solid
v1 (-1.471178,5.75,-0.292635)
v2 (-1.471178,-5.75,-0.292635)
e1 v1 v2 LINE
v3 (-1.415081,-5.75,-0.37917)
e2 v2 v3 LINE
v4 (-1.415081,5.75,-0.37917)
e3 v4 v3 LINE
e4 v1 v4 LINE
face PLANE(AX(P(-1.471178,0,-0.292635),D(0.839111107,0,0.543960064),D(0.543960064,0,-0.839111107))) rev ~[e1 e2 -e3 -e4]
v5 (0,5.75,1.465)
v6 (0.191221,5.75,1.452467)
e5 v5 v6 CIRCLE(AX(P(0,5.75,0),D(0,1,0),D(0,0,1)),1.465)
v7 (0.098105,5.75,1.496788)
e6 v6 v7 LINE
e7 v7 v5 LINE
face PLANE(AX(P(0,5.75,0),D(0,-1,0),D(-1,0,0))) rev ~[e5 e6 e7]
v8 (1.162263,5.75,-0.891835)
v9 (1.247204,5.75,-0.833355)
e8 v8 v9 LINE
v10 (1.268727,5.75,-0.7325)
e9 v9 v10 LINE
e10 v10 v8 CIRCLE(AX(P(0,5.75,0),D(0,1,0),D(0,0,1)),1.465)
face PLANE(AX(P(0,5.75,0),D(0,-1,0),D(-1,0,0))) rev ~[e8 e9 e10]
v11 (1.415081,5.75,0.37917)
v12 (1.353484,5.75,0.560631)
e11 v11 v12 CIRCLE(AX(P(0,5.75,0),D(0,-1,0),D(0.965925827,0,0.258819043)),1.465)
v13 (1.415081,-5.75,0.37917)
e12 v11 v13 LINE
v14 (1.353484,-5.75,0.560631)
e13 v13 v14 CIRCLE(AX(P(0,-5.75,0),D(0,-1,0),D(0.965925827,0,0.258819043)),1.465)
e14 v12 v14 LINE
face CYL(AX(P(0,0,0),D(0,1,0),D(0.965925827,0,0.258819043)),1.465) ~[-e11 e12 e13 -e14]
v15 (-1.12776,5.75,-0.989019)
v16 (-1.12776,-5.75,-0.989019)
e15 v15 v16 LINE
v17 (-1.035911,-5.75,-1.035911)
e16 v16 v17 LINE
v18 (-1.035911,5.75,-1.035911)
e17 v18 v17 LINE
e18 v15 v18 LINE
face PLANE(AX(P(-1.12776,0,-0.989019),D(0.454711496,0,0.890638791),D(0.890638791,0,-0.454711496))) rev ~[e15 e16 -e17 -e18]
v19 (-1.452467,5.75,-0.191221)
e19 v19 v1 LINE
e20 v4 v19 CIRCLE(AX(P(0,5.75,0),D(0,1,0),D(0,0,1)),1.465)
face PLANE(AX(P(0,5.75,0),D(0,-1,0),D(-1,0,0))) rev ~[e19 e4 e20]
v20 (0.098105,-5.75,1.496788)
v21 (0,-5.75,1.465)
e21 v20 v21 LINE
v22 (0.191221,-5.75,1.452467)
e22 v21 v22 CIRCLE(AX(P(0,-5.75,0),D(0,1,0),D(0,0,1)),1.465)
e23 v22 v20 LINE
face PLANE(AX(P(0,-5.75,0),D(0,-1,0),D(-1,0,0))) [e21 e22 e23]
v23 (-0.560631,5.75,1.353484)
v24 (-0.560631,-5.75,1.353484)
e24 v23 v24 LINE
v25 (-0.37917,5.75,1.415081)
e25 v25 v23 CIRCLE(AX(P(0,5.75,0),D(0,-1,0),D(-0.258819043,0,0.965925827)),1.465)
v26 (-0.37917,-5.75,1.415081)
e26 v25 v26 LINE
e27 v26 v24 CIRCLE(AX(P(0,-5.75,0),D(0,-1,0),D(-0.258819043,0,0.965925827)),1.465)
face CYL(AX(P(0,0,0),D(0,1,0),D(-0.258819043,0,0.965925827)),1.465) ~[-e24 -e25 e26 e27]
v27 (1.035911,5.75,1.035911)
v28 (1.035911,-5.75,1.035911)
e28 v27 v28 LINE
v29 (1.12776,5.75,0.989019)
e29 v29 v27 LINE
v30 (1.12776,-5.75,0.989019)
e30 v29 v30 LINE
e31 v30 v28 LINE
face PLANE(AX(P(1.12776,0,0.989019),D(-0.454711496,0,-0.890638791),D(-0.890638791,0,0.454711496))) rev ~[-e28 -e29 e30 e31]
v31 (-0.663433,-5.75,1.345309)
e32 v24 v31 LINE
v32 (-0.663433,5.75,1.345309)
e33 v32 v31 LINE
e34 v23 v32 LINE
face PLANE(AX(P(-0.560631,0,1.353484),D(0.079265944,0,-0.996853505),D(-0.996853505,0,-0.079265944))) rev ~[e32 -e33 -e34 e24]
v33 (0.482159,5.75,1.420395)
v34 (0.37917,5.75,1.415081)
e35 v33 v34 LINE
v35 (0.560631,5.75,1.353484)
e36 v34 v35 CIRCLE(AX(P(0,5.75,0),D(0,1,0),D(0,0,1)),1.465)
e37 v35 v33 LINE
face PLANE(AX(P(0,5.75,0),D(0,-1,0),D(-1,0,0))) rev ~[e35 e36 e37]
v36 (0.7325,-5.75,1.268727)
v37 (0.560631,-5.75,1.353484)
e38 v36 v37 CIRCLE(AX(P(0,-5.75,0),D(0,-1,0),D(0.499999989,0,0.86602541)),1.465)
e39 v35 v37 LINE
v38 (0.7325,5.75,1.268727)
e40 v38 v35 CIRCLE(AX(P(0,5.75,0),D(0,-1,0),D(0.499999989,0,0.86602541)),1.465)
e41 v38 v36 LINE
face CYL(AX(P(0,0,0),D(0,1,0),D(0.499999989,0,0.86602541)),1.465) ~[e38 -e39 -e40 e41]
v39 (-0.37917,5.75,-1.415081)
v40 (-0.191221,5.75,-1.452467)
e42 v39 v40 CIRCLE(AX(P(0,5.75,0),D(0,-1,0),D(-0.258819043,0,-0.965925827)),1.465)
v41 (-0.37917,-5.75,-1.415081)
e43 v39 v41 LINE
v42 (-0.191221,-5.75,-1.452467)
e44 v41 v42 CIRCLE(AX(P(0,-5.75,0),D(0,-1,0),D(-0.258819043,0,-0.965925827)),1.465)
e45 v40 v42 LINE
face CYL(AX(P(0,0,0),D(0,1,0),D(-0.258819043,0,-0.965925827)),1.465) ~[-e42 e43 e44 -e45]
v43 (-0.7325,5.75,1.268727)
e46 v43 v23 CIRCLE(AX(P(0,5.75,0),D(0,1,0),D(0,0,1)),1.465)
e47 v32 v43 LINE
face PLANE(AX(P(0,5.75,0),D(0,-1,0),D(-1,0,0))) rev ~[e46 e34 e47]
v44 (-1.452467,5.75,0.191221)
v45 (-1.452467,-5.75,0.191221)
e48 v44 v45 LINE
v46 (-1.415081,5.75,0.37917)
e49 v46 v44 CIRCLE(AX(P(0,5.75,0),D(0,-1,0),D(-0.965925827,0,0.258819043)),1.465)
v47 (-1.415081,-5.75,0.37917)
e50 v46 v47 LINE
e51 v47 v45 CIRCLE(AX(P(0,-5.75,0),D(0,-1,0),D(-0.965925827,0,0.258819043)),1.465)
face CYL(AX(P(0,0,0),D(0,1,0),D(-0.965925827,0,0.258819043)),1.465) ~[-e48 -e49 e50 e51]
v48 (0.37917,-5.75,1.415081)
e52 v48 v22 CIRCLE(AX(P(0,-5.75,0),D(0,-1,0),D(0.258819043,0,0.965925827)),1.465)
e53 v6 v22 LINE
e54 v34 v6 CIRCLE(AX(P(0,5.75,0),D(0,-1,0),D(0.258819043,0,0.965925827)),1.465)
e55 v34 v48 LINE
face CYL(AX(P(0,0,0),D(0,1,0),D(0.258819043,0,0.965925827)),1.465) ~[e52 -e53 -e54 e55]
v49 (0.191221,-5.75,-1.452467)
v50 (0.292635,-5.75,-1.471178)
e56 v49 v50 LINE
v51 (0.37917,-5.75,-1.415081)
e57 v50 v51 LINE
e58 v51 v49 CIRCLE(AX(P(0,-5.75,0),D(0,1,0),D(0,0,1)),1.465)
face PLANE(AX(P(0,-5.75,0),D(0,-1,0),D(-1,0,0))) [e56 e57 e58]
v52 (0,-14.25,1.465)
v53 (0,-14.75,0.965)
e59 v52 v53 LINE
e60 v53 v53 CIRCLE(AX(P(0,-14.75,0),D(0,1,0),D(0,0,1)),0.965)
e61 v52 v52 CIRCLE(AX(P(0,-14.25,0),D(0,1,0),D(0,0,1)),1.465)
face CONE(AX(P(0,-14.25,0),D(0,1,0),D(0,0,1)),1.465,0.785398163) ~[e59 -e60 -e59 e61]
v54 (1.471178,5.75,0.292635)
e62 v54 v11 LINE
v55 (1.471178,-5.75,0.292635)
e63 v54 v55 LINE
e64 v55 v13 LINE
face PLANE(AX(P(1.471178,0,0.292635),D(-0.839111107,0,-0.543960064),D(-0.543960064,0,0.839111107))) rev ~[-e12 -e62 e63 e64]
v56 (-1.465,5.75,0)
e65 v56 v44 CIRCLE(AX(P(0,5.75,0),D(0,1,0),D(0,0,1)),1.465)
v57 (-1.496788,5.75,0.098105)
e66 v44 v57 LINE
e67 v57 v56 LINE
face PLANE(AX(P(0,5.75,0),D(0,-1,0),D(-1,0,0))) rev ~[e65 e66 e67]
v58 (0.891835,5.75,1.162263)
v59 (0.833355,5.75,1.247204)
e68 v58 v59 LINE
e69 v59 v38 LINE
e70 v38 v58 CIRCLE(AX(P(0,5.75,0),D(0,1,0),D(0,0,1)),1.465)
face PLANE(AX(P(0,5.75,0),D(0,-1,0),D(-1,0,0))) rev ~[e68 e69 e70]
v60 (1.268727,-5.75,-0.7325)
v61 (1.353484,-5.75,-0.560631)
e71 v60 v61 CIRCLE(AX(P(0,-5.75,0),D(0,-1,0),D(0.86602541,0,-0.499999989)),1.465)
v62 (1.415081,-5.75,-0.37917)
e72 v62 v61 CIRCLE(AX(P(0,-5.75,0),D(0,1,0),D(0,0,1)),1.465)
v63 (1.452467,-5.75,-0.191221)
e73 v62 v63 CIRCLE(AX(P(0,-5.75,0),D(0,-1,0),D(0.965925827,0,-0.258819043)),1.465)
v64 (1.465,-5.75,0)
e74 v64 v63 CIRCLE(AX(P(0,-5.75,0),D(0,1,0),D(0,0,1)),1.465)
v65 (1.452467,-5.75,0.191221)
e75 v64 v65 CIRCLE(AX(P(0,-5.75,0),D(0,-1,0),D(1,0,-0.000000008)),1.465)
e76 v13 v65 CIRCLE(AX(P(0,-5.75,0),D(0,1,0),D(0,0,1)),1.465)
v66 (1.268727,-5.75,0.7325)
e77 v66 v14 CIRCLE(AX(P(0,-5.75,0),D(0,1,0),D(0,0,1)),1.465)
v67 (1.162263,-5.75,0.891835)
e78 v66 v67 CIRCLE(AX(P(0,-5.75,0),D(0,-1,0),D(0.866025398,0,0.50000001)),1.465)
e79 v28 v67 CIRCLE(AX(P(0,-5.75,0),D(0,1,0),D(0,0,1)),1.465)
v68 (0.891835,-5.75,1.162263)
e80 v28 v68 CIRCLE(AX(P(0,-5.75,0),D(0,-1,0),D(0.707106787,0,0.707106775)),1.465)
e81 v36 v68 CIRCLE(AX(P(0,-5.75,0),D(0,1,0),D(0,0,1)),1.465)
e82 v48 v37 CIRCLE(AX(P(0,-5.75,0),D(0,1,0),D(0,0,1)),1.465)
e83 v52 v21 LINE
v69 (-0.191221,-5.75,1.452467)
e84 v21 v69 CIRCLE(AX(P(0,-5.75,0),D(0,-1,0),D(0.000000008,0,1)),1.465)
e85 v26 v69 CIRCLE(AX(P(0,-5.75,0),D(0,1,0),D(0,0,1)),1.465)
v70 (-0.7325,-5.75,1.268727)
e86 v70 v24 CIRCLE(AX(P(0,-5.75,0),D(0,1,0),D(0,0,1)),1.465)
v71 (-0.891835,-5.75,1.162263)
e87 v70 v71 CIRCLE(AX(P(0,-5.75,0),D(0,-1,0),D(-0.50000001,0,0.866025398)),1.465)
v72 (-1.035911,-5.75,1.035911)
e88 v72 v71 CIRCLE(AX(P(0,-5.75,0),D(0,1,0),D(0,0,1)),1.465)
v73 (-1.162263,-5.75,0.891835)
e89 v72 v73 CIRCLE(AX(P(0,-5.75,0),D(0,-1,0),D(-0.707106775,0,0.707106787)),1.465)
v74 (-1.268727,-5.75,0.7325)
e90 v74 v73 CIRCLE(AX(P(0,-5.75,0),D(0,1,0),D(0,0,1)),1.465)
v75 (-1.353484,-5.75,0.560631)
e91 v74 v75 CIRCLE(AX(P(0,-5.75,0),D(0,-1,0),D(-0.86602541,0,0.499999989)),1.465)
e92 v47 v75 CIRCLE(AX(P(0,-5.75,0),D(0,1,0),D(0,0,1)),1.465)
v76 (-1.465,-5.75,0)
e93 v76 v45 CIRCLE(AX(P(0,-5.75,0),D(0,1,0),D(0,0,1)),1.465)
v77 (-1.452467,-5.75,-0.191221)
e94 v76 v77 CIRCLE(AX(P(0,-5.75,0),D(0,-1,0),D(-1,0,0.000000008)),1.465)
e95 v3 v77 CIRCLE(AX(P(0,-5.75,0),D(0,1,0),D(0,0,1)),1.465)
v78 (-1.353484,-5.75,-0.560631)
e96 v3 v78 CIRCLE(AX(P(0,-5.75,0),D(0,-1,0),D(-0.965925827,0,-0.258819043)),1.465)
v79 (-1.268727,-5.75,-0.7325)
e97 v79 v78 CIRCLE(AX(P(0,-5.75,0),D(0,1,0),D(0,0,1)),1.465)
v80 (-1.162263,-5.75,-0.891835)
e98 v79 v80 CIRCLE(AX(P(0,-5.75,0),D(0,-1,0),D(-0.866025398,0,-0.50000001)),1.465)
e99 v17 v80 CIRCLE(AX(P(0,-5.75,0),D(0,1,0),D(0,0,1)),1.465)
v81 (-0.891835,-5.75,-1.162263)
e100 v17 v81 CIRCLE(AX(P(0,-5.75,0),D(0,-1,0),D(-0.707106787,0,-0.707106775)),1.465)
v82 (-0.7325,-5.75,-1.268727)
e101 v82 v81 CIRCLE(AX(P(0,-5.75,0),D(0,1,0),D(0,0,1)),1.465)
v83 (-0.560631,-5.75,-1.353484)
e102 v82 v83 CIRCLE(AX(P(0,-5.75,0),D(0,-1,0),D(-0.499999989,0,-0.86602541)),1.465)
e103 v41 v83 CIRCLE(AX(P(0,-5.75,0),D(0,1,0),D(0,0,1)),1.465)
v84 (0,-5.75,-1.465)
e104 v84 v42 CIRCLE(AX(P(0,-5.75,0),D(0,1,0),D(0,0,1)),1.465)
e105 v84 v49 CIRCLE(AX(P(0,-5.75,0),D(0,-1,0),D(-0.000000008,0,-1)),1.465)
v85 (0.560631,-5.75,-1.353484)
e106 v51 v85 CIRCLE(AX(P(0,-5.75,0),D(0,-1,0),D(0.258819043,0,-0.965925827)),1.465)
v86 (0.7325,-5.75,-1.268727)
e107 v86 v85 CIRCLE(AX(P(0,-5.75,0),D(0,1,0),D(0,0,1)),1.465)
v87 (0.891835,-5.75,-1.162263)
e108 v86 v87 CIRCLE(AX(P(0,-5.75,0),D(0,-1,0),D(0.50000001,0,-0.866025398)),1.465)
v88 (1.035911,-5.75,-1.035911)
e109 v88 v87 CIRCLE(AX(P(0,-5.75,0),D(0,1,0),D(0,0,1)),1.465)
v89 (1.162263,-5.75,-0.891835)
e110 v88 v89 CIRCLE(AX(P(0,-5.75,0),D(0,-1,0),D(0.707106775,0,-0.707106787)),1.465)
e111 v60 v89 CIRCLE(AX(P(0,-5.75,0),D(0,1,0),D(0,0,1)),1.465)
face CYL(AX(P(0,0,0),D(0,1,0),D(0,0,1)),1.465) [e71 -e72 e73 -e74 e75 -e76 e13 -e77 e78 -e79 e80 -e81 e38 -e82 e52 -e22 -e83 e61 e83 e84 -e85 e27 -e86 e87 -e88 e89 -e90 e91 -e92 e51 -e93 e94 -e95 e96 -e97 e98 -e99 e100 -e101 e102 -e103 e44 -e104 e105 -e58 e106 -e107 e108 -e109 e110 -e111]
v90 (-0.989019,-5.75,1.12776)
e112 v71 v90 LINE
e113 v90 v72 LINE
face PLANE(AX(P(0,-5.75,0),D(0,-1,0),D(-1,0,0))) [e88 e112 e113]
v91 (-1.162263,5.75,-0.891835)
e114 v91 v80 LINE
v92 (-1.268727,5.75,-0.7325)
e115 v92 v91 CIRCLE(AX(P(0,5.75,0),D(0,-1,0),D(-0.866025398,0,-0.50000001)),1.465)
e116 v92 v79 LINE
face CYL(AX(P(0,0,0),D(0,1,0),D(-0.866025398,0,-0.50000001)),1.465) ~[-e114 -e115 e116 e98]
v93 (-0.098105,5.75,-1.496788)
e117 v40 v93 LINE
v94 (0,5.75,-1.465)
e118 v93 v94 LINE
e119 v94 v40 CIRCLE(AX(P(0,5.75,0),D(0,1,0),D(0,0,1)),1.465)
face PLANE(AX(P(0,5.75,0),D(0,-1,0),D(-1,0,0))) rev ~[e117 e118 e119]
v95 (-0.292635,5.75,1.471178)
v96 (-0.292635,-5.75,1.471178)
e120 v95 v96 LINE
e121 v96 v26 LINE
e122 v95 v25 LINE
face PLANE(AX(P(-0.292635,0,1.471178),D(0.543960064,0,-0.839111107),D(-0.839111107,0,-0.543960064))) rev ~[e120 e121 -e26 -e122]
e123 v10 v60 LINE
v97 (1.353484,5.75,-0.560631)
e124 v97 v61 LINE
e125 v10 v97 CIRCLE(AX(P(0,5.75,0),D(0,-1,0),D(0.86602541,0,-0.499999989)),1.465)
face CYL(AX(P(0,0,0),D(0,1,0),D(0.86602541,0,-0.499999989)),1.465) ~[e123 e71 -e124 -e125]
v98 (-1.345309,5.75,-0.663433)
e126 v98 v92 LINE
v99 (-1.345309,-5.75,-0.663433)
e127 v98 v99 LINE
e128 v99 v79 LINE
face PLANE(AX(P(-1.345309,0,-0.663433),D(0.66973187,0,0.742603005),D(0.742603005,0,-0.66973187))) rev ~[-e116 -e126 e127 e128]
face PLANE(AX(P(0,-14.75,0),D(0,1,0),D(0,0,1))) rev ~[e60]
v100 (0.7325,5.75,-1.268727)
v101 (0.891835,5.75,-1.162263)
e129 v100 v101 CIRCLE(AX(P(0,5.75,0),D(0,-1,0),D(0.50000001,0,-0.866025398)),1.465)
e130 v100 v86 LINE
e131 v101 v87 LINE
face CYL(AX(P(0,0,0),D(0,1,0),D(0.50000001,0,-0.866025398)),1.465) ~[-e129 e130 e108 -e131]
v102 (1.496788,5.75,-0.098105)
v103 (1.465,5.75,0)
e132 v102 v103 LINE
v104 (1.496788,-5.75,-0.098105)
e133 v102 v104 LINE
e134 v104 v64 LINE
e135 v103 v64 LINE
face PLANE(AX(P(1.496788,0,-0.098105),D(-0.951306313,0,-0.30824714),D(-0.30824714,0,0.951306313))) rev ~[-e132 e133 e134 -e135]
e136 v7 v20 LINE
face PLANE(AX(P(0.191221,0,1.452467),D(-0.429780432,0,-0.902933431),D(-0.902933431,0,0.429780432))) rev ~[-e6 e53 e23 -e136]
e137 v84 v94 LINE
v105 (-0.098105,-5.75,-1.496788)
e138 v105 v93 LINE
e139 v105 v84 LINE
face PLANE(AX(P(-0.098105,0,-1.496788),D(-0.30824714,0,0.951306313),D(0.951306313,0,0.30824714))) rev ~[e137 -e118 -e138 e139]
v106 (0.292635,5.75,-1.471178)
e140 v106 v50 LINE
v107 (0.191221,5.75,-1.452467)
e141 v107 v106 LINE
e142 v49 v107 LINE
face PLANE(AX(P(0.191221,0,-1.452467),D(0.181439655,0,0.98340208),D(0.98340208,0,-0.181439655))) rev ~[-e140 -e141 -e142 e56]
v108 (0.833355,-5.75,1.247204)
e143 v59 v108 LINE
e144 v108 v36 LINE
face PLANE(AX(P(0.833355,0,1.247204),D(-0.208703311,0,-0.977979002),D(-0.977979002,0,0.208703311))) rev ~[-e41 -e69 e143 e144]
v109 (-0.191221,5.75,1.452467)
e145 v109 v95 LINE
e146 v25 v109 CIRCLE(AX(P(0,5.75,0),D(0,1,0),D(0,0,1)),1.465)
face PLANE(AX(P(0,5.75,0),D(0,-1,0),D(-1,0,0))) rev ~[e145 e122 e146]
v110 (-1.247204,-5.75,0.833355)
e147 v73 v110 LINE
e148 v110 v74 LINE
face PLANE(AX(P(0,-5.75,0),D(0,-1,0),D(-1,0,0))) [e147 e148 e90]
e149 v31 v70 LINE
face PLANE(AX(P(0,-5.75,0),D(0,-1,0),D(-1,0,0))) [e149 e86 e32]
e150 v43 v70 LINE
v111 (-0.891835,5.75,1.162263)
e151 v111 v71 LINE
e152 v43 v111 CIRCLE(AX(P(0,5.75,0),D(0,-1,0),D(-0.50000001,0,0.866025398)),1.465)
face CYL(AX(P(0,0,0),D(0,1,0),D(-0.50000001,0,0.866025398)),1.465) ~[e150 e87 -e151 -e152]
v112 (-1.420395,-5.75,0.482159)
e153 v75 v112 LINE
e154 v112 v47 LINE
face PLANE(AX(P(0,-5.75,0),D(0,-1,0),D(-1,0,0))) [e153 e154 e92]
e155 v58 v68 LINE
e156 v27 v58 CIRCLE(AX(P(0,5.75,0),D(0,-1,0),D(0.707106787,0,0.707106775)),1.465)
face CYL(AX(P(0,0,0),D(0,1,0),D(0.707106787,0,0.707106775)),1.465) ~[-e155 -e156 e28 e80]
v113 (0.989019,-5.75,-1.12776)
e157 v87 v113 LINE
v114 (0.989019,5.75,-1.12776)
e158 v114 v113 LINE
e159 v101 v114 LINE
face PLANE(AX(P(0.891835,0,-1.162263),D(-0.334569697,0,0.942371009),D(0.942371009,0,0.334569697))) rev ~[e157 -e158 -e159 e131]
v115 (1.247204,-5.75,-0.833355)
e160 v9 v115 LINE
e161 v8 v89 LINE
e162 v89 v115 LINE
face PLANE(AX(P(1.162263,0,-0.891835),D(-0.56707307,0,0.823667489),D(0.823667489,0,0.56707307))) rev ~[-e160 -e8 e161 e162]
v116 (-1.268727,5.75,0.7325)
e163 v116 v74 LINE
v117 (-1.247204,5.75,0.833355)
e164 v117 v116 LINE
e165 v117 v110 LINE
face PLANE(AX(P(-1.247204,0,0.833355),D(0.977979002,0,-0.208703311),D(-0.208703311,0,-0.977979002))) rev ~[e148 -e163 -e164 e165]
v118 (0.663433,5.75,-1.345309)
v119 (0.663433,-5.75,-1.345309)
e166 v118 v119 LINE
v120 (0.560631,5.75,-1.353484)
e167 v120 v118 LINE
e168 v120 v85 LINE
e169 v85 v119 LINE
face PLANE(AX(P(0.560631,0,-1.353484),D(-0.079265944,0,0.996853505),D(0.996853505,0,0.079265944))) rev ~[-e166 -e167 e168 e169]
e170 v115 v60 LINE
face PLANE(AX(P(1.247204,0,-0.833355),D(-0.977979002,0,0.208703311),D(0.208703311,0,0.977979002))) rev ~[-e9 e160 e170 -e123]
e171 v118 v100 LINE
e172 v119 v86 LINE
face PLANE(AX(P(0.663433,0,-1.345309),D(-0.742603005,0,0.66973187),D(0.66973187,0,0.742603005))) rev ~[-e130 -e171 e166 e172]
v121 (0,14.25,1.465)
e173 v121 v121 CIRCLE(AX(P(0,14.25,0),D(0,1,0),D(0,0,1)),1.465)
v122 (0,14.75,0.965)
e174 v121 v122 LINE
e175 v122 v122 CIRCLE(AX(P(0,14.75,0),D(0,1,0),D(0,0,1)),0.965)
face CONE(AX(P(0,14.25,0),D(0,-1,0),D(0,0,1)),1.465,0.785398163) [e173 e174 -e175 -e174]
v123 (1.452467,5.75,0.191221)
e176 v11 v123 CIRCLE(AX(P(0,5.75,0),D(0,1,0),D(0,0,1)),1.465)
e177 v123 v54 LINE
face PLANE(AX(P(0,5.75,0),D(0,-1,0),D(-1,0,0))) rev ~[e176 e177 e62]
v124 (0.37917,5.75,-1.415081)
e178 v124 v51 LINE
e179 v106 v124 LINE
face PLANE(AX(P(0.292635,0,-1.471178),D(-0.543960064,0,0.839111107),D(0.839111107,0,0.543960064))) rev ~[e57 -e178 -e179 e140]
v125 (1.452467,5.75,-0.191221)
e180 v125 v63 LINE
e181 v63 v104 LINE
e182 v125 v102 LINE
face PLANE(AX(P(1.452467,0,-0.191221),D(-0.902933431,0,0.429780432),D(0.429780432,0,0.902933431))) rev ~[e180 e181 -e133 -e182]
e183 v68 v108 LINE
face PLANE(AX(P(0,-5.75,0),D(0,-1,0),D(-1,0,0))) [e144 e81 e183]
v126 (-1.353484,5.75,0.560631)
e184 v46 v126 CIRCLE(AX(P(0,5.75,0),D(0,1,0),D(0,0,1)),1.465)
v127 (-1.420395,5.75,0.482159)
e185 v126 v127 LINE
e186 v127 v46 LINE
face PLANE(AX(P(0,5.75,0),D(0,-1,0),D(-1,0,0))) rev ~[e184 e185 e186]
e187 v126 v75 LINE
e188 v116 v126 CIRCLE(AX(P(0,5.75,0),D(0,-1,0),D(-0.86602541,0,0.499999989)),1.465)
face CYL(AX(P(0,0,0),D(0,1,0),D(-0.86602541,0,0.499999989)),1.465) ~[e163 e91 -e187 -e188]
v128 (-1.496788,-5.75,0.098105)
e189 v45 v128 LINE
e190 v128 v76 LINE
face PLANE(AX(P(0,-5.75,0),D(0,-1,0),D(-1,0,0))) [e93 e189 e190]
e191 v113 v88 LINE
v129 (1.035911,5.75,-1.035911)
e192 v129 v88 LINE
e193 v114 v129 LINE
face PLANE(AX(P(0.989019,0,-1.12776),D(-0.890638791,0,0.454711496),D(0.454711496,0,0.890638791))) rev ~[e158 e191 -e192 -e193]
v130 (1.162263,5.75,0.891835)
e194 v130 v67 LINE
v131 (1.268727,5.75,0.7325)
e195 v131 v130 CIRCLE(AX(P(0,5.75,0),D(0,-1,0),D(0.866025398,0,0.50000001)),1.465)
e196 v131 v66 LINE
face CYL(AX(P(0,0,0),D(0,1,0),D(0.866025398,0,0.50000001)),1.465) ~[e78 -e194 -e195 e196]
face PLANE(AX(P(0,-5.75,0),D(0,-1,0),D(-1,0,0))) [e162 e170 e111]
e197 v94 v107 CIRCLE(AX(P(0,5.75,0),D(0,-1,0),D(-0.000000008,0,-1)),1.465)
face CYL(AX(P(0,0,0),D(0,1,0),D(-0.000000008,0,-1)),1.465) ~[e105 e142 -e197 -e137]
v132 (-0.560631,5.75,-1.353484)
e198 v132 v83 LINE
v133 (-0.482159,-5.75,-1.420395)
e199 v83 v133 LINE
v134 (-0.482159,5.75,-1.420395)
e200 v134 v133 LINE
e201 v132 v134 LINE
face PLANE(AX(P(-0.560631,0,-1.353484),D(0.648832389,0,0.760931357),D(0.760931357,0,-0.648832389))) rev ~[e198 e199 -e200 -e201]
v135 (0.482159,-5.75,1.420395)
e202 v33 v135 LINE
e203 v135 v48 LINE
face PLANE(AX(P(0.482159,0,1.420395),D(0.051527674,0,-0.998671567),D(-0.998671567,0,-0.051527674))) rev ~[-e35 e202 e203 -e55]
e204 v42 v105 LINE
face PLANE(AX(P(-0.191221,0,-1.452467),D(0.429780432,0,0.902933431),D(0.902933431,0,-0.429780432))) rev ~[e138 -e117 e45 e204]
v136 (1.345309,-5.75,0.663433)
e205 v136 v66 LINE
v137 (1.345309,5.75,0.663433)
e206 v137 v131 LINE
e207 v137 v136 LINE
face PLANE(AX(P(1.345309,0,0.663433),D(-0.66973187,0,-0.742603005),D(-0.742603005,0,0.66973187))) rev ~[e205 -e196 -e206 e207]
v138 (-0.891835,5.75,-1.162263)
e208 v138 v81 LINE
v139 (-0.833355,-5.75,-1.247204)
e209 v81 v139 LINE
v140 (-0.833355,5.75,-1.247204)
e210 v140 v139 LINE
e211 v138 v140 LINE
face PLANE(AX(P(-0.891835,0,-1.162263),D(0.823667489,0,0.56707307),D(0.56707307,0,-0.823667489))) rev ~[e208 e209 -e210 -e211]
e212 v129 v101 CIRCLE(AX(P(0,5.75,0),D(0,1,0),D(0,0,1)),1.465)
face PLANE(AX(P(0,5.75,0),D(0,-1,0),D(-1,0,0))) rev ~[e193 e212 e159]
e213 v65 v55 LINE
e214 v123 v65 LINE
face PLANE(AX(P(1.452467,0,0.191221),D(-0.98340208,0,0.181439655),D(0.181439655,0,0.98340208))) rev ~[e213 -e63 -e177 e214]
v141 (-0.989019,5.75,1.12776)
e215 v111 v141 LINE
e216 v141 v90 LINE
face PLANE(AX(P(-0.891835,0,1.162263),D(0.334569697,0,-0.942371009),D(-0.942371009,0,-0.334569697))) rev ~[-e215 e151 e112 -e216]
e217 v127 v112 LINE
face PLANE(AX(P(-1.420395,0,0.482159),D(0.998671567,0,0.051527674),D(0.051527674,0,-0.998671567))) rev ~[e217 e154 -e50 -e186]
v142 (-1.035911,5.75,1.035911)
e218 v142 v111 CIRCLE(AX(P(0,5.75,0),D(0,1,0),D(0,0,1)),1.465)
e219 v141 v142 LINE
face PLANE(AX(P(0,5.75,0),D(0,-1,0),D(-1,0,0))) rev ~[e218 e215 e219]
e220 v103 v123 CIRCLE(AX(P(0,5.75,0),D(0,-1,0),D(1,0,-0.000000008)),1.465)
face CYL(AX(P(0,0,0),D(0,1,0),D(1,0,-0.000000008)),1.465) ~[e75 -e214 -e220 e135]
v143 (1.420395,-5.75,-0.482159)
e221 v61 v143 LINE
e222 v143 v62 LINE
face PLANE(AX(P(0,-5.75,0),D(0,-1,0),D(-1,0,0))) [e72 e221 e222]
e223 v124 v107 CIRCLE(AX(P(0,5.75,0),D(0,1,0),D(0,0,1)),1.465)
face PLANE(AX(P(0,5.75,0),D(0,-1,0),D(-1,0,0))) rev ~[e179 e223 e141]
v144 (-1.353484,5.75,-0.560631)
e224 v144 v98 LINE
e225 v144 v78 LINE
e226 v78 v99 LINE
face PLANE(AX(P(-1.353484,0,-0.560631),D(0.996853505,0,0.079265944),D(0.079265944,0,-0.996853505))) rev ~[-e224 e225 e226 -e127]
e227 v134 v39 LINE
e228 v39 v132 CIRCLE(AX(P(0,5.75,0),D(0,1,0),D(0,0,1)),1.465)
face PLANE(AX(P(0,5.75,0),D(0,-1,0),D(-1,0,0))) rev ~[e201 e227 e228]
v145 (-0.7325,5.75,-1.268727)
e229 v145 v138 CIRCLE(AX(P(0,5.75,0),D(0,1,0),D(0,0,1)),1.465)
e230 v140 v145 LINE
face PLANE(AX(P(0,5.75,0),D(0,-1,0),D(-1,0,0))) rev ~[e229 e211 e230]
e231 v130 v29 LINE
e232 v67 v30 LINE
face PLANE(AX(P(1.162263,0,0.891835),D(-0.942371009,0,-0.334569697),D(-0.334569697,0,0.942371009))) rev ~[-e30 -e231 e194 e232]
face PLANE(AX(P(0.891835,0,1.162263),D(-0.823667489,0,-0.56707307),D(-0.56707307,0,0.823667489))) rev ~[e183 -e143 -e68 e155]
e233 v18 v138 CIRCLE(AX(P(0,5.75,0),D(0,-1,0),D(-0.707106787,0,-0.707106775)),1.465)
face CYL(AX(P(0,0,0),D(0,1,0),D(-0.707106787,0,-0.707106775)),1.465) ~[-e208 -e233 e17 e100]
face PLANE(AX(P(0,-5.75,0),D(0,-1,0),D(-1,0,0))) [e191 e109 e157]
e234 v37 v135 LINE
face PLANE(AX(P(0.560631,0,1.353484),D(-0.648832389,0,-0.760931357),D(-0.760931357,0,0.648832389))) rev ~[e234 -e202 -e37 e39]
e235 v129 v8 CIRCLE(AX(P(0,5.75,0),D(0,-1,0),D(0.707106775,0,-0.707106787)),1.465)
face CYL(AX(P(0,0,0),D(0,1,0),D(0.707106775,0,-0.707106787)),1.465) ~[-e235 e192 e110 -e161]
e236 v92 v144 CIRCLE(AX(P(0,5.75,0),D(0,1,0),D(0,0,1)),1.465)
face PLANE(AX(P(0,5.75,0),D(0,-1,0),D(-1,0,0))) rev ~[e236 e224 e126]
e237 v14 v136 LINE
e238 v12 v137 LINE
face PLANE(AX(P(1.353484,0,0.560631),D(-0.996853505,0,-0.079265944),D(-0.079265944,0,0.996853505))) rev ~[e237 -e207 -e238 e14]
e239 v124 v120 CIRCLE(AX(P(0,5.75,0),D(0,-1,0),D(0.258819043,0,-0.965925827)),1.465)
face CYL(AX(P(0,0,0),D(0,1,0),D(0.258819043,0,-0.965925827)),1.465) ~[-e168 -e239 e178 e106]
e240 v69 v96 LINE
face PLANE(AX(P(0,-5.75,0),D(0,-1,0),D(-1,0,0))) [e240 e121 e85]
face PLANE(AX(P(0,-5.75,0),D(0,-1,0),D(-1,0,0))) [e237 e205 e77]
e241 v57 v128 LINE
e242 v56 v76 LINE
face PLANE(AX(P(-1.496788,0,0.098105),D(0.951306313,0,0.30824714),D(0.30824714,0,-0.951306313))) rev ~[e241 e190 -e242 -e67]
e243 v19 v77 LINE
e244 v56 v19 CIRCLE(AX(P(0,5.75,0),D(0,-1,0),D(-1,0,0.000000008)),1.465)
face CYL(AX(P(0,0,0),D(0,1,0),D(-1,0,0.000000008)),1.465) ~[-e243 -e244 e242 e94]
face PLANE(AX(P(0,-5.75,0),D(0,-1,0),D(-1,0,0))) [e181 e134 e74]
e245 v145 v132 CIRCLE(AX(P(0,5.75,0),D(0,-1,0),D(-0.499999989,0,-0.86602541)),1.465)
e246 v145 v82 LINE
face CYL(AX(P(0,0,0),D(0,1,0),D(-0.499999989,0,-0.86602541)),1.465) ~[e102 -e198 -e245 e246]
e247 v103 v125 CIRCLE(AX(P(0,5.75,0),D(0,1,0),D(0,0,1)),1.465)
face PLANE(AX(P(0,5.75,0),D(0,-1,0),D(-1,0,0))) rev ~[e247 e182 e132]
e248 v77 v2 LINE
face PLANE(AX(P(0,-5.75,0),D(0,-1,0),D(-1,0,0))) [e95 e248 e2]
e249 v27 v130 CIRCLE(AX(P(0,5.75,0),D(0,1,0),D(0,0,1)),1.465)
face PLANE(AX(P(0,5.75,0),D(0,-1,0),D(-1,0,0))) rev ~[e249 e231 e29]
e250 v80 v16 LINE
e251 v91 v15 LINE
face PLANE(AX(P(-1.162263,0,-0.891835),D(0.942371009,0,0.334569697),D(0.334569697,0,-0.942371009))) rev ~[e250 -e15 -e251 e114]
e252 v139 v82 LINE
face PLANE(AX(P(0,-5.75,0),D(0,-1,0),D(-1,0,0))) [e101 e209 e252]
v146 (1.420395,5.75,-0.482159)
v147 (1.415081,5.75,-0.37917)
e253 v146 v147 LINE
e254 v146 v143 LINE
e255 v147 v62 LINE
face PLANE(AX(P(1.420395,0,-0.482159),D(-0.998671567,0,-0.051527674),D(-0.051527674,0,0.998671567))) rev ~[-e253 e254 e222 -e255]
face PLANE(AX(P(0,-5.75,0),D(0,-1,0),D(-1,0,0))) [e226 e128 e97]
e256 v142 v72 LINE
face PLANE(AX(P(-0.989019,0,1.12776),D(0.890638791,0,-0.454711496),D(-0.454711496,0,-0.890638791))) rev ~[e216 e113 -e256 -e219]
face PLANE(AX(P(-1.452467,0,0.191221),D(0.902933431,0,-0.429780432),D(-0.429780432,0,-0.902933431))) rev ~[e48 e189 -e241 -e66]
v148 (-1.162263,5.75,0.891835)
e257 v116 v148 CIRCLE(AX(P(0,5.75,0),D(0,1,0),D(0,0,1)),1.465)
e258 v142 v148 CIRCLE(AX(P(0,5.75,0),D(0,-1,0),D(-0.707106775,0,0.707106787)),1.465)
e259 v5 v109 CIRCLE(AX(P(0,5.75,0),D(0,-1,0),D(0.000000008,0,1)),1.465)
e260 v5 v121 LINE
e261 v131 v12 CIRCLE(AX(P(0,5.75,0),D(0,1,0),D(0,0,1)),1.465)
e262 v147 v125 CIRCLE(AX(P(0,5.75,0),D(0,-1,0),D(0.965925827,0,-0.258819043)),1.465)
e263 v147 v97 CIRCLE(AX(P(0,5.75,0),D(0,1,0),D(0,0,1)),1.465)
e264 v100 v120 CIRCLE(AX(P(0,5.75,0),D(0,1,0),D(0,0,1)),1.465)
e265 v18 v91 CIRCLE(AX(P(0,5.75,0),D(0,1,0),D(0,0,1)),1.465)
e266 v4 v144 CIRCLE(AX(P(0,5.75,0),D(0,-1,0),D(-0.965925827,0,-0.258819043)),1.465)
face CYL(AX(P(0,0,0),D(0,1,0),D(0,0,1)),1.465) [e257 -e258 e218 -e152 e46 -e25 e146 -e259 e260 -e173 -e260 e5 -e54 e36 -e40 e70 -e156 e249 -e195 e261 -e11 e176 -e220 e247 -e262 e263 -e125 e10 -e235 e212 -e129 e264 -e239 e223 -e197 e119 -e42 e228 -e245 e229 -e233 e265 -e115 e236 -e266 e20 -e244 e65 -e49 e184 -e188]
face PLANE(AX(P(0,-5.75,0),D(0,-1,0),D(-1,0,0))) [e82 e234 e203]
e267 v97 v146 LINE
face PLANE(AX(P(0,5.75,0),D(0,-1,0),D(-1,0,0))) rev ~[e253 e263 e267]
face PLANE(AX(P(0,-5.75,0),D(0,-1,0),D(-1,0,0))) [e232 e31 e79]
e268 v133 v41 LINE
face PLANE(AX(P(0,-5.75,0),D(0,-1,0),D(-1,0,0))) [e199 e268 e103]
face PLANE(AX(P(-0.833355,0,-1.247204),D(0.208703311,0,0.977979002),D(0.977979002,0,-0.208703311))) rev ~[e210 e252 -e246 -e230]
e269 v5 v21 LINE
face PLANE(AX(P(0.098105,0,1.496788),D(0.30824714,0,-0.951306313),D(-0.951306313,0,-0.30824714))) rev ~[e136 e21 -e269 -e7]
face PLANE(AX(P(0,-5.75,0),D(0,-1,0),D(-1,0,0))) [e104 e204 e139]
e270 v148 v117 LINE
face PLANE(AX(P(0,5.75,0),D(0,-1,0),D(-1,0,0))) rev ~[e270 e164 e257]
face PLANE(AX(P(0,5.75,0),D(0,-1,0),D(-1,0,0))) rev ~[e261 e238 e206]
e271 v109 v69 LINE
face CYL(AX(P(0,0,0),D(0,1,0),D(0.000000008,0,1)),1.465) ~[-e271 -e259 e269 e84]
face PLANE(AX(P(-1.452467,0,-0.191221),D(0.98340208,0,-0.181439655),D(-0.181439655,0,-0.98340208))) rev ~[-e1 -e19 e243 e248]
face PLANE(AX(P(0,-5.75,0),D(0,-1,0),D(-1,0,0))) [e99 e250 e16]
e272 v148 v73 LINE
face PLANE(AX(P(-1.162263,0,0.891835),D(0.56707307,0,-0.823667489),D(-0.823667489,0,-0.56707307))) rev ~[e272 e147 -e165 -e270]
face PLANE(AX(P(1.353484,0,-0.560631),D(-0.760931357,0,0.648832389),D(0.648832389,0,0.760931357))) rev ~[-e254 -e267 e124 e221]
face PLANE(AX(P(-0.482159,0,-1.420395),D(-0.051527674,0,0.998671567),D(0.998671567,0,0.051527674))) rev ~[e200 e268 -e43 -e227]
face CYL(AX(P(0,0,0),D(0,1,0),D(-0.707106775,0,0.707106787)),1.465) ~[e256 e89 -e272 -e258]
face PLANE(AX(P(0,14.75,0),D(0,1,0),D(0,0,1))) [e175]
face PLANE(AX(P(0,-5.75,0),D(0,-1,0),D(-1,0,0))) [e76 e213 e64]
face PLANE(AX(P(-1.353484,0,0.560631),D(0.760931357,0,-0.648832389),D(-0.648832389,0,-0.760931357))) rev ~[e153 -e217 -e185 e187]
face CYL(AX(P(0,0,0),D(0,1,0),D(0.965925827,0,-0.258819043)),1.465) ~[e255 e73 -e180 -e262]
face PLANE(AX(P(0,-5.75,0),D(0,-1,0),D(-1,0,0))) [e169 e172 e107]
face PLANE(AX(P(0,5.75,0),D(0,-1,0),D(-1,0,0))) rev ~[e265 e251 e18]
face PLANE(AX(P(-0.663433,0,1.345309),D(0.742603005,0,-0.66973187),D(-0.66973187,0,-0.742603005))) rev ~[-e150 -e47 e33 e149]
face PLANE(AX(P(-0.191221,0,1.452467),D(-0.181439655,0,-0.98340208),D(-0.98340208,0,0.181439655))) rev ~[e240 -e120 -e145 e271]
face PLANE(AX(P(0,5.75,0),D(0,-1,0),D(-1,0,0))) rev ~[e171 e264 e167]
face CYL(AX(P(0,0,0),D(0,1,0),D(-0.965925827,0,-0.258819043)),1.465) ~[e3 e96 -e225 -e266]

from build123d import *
from build123d.topology import SkipClean

# Parameters (mm, degrees)
SKETCH1_R      = 1.465
EXTRUDE1_DEPTH = 14.75
CHAMFER1_SIZE  = 0.5
EXTRUDE2_DEPTH = 5.75


with BuildPart() as part:
    # Sketch1 → Extrude1 (new, symmetric)
    with BuildSketch(Plane(origin=(0, 0, 0), x_dir=(1, 0, 0), z_dir=(0, 1, 0))):
        with Locations(Location((0, 0, 0), (0, 0, 270))):
            Circle(SKETCH1_R)
    extrude(amount=EXTRUDE1_DEPTH, both=True)

    # Chamfer1
    chamfer1_edges = [part.edges().sort_by_distance(p)[0] for p in [
        (0, -14.75, -1.465),
        (0, 14.75, -1.465),
    ]]
    chamfer(chamfer1_edges, length=CHAMFER1_SIZE)

    # Sketch2 → Extrude2 (add, symmetric)
    with SkipClean():  # the faces are left unmerged after this step: merging them gives an invalid solid
        with BuildSketch(Plane(origin=(0, 0, 0), x_dir=(1, 0, 0), z_dir=(0, 1, 0))):
            with BuildLine():
                Line((0.191220872, 1.452466722), (0.292635483, 1.471177921))
                Line((0.292635483, 1.471177921), (0.379169901, 1.415081336))
                ThreePointArc((0.379169901, 1.415081336), (0.470908817, 1.38725264), (0.560631228, 1.353483515))
                Line((0.560631228, 1.353483515), (0.663433035, 1.345309112))
                Line((0.663433035, 1.345309112), (0.7325, 1.268727217))
                ThreePointArc((0.7325, 1.268727217), (0.813910391, 1.218102982), (0.891835493, 1.162262644))
                Line((0.891835493, 1.162262644), (0.989018723, 1.127759711))
                Line((0.989018723, 1.127759711), (1.035911434, 1.035911434))
                ThreePointArc((1.035911434, 1.035911434), (1.101445318, 0.965941619), (1.162262644, 0.891835493))
                Line((1.162262644, 0.891835493), (1.247204418, 0.83335535))
                Line((1.247204418, 0.83335535), (1.268727217, 0.7325))
                ThreePointArc((1.268727217, 0.7325), (1.313918566, 0.647952931), (1.353483515, 0.560631228))
                Line((1.353483515, 0.560631228), (1.420395194, 0.482159198))
                Line((1.420395194, 0.482159198), (1.415081336, 0.379169901))
                ThreePointArc((1.415081336, 0.379169901), (1.436850436, 0.285807322), (1.452466722, 0.191220872))
                Line((1.452466722, 0.191220872), (1.496788385, 0.098104694))
                Line((1.496788385, 0.098104694), (1.465, 0))
                ThreePointArc((1.465, 0), (1.461863323, -0.095815584), (1.452466722, -0.191220872))
                Line((1.452466722, -0.191220872), (1.471177921, -0.292635483))
                Line((1.471177921, -0.292635483), (1.415081336, -0.379169901))
                ThreePointArc((1.415081336, -0.379169901), (1.38725264, -0.470908817), (1.353483515, -0.560631228))
                Line((1.353483515, -0.560631228), (1.345309112, -0.663433035))
                Line((1.345309112, -0.663433035), (1.268727217, -0.7325))
                ThreePointArc((1.268727217, -0.7325), (1.218102982, -0.813910391), (1.162262644, -0.891835493))
                Line((1.162262644, -0.891835493), (1.127759711, -0.989018723))
                Line((1.127759711, -0.989018723), (1.035911434, -1.035911434))
                ThreePointArc((1.035911434, -1.035911434), (0.965941619, -1.101445318), (0.891835493, -1.162262644))
                Line((0.891835493, -1.162262644), (0.83335535, -1.247204418))
                Line((0.83335535, -1.247204418), (0.7325, -1.268727217))
                ThreePointArc((0.7325, -1.268727217), (0.647952931, -1.313918566), (0.560631228, -1.353483515))
                Line((0.560631228, -1.353483515), (0.482159198, -1.420395194))
                Line((0.482159198, -1.420395194), (0.379169901, -1.415081336))
                ThreePointArc((0.379169901, -1.415081336), (0.285807322, -1.436850436), (0.191220872, -1.452466722))
                Line((0.191220872, -1.452466722), (0.098104694, -1.496788385))
                Line((0.098104694, -1.496788385), (0, -1.465))
                ThreePointArc((0, -1.465), (-0.095815584, -1.461863323), (-0.191220872, -1.452466722))
                Line((-0.191220872, -1.452466722), (-0.292635483, -1.471177921))
                Line((-0.292635483, -1.471177921), (-0.379169901, -1.415081336))
                ThreePointArc((-0.379169901, -1.415081336), (-0.470908817, -1.38725264), (-0.560631228, -1.353483515))
                Line((-0.560631228, -1.353483515), (-0.663433035, -1.345309112))
                Line((-0.663433035, -1.345309112), (-0.7325, -1.268727217))
                ThreePointArc((-0.7325, -1.268727217), (-0.813910391, -1.218102982), (-0.891835493, -1.162262644))
                Line((-0.891835493, -1.162262644), (-0.989018723, -1.127759711))
                Line((-0.989018723, -1.127759711), (-1.035911434, -1.035911434))
                ThreePointArc((-1.035911434, -1.035911434), (-1.101445318, -0.965941619), (-1.162262644, -0.891835493))
                Line((-1.162262644, -0.891835493), (-1.247204418, -0.83335535))
                Line((-1.247204418, -0.83335535), (-1.268727217, -0.7325))
                ThreePointArc((-1.268727217, -0.7325), (-1.313918566, -0.647952931), (-1.353483515, -0.560631228))
                Line((-1.353483515, -0.560631228), (-1.420395194, -0.482159198))
                Line((-1.420395194, -0.482159198), (-1.415081336, -0.379169901))
                ThreePointArc((-1.415081336, -0.379169901), (-1.436850436, -0.285807322), (-1.452466722, -0.191220872))
                Line((-1.452466722, -0.191220872), (-1.496788385, -0.098104694))
                Line((-1.496788385, -0.098104694), (-1.465, 0))
                ThreePointArc((-1.465, 0), (-1.461863323, 0.095815584), (-1.452466722, 0.191220872))
                Line((-1.452466722, 0.191220872), (-1.471177921, 0.292635483))
                Line((-1.471177921, 0.292635483), (-1.415081336, 0.379169901))
                ThreePointArc((-1.415081336, 0.379169901), (-1.38725264, 0.470908817), (-1.353483515, 0.560631228))
                Line((-1.353483515, 0.560631228), (-1.345309112, 0.663433035))
                Line((-1.345309112, 0.663433035), (-1.268727217, 0.7325))
                ThreePointArc((-1.268727217, 0.7325), (-1.218102982, 0.813910391), (-1.162262644, 0.891835493))
                Line((-1.162262644, 0.891835493), (-1.127759711, 0.989018723))
                Line((-1.127759711, 0.989018723), (-1.035911434, 1.035911434))
                ThreePointArc((-1.035911434, 1.035911434), (-0.965941619, 1.101445318), (-0.891835493, 1.162262644))
                Line((-0.891835493, 1.162262644), (-0.83335535, 1.247204418))
                Line((-0.83335535, 1.247204418), (-0.7325, 1.268727217))
                ThreePointArc((-0.7325, 1.268727217), (-0.647952931, 1.313918566), (-0.560631228, 1.353483515))
                Line((-0.560631228, 1.353483515), (-0.482159198, 1.420395194))
                Line((-0.482159198, 1.420395194), (-0.379169901, 1.415081336))
                ThreePointArc((-0.379169901, 1.415081336), (-0.285807322, 1.436850436), (-0.191220872, 1.452466722))
                Line((-0.191220872, 1.452466722), (-0.098104694, 1.496788385))
                Line((-0.098104694, 1.496788385), (0, 1.465))
                ThreePointArc((0, 1.465), (0.095815584, 1.461863323), (0.191220872, 1.452466722))
            make_face()
        extrude(amount=EXTRUDE2_DEPTH, both=True)


solid = part.part
